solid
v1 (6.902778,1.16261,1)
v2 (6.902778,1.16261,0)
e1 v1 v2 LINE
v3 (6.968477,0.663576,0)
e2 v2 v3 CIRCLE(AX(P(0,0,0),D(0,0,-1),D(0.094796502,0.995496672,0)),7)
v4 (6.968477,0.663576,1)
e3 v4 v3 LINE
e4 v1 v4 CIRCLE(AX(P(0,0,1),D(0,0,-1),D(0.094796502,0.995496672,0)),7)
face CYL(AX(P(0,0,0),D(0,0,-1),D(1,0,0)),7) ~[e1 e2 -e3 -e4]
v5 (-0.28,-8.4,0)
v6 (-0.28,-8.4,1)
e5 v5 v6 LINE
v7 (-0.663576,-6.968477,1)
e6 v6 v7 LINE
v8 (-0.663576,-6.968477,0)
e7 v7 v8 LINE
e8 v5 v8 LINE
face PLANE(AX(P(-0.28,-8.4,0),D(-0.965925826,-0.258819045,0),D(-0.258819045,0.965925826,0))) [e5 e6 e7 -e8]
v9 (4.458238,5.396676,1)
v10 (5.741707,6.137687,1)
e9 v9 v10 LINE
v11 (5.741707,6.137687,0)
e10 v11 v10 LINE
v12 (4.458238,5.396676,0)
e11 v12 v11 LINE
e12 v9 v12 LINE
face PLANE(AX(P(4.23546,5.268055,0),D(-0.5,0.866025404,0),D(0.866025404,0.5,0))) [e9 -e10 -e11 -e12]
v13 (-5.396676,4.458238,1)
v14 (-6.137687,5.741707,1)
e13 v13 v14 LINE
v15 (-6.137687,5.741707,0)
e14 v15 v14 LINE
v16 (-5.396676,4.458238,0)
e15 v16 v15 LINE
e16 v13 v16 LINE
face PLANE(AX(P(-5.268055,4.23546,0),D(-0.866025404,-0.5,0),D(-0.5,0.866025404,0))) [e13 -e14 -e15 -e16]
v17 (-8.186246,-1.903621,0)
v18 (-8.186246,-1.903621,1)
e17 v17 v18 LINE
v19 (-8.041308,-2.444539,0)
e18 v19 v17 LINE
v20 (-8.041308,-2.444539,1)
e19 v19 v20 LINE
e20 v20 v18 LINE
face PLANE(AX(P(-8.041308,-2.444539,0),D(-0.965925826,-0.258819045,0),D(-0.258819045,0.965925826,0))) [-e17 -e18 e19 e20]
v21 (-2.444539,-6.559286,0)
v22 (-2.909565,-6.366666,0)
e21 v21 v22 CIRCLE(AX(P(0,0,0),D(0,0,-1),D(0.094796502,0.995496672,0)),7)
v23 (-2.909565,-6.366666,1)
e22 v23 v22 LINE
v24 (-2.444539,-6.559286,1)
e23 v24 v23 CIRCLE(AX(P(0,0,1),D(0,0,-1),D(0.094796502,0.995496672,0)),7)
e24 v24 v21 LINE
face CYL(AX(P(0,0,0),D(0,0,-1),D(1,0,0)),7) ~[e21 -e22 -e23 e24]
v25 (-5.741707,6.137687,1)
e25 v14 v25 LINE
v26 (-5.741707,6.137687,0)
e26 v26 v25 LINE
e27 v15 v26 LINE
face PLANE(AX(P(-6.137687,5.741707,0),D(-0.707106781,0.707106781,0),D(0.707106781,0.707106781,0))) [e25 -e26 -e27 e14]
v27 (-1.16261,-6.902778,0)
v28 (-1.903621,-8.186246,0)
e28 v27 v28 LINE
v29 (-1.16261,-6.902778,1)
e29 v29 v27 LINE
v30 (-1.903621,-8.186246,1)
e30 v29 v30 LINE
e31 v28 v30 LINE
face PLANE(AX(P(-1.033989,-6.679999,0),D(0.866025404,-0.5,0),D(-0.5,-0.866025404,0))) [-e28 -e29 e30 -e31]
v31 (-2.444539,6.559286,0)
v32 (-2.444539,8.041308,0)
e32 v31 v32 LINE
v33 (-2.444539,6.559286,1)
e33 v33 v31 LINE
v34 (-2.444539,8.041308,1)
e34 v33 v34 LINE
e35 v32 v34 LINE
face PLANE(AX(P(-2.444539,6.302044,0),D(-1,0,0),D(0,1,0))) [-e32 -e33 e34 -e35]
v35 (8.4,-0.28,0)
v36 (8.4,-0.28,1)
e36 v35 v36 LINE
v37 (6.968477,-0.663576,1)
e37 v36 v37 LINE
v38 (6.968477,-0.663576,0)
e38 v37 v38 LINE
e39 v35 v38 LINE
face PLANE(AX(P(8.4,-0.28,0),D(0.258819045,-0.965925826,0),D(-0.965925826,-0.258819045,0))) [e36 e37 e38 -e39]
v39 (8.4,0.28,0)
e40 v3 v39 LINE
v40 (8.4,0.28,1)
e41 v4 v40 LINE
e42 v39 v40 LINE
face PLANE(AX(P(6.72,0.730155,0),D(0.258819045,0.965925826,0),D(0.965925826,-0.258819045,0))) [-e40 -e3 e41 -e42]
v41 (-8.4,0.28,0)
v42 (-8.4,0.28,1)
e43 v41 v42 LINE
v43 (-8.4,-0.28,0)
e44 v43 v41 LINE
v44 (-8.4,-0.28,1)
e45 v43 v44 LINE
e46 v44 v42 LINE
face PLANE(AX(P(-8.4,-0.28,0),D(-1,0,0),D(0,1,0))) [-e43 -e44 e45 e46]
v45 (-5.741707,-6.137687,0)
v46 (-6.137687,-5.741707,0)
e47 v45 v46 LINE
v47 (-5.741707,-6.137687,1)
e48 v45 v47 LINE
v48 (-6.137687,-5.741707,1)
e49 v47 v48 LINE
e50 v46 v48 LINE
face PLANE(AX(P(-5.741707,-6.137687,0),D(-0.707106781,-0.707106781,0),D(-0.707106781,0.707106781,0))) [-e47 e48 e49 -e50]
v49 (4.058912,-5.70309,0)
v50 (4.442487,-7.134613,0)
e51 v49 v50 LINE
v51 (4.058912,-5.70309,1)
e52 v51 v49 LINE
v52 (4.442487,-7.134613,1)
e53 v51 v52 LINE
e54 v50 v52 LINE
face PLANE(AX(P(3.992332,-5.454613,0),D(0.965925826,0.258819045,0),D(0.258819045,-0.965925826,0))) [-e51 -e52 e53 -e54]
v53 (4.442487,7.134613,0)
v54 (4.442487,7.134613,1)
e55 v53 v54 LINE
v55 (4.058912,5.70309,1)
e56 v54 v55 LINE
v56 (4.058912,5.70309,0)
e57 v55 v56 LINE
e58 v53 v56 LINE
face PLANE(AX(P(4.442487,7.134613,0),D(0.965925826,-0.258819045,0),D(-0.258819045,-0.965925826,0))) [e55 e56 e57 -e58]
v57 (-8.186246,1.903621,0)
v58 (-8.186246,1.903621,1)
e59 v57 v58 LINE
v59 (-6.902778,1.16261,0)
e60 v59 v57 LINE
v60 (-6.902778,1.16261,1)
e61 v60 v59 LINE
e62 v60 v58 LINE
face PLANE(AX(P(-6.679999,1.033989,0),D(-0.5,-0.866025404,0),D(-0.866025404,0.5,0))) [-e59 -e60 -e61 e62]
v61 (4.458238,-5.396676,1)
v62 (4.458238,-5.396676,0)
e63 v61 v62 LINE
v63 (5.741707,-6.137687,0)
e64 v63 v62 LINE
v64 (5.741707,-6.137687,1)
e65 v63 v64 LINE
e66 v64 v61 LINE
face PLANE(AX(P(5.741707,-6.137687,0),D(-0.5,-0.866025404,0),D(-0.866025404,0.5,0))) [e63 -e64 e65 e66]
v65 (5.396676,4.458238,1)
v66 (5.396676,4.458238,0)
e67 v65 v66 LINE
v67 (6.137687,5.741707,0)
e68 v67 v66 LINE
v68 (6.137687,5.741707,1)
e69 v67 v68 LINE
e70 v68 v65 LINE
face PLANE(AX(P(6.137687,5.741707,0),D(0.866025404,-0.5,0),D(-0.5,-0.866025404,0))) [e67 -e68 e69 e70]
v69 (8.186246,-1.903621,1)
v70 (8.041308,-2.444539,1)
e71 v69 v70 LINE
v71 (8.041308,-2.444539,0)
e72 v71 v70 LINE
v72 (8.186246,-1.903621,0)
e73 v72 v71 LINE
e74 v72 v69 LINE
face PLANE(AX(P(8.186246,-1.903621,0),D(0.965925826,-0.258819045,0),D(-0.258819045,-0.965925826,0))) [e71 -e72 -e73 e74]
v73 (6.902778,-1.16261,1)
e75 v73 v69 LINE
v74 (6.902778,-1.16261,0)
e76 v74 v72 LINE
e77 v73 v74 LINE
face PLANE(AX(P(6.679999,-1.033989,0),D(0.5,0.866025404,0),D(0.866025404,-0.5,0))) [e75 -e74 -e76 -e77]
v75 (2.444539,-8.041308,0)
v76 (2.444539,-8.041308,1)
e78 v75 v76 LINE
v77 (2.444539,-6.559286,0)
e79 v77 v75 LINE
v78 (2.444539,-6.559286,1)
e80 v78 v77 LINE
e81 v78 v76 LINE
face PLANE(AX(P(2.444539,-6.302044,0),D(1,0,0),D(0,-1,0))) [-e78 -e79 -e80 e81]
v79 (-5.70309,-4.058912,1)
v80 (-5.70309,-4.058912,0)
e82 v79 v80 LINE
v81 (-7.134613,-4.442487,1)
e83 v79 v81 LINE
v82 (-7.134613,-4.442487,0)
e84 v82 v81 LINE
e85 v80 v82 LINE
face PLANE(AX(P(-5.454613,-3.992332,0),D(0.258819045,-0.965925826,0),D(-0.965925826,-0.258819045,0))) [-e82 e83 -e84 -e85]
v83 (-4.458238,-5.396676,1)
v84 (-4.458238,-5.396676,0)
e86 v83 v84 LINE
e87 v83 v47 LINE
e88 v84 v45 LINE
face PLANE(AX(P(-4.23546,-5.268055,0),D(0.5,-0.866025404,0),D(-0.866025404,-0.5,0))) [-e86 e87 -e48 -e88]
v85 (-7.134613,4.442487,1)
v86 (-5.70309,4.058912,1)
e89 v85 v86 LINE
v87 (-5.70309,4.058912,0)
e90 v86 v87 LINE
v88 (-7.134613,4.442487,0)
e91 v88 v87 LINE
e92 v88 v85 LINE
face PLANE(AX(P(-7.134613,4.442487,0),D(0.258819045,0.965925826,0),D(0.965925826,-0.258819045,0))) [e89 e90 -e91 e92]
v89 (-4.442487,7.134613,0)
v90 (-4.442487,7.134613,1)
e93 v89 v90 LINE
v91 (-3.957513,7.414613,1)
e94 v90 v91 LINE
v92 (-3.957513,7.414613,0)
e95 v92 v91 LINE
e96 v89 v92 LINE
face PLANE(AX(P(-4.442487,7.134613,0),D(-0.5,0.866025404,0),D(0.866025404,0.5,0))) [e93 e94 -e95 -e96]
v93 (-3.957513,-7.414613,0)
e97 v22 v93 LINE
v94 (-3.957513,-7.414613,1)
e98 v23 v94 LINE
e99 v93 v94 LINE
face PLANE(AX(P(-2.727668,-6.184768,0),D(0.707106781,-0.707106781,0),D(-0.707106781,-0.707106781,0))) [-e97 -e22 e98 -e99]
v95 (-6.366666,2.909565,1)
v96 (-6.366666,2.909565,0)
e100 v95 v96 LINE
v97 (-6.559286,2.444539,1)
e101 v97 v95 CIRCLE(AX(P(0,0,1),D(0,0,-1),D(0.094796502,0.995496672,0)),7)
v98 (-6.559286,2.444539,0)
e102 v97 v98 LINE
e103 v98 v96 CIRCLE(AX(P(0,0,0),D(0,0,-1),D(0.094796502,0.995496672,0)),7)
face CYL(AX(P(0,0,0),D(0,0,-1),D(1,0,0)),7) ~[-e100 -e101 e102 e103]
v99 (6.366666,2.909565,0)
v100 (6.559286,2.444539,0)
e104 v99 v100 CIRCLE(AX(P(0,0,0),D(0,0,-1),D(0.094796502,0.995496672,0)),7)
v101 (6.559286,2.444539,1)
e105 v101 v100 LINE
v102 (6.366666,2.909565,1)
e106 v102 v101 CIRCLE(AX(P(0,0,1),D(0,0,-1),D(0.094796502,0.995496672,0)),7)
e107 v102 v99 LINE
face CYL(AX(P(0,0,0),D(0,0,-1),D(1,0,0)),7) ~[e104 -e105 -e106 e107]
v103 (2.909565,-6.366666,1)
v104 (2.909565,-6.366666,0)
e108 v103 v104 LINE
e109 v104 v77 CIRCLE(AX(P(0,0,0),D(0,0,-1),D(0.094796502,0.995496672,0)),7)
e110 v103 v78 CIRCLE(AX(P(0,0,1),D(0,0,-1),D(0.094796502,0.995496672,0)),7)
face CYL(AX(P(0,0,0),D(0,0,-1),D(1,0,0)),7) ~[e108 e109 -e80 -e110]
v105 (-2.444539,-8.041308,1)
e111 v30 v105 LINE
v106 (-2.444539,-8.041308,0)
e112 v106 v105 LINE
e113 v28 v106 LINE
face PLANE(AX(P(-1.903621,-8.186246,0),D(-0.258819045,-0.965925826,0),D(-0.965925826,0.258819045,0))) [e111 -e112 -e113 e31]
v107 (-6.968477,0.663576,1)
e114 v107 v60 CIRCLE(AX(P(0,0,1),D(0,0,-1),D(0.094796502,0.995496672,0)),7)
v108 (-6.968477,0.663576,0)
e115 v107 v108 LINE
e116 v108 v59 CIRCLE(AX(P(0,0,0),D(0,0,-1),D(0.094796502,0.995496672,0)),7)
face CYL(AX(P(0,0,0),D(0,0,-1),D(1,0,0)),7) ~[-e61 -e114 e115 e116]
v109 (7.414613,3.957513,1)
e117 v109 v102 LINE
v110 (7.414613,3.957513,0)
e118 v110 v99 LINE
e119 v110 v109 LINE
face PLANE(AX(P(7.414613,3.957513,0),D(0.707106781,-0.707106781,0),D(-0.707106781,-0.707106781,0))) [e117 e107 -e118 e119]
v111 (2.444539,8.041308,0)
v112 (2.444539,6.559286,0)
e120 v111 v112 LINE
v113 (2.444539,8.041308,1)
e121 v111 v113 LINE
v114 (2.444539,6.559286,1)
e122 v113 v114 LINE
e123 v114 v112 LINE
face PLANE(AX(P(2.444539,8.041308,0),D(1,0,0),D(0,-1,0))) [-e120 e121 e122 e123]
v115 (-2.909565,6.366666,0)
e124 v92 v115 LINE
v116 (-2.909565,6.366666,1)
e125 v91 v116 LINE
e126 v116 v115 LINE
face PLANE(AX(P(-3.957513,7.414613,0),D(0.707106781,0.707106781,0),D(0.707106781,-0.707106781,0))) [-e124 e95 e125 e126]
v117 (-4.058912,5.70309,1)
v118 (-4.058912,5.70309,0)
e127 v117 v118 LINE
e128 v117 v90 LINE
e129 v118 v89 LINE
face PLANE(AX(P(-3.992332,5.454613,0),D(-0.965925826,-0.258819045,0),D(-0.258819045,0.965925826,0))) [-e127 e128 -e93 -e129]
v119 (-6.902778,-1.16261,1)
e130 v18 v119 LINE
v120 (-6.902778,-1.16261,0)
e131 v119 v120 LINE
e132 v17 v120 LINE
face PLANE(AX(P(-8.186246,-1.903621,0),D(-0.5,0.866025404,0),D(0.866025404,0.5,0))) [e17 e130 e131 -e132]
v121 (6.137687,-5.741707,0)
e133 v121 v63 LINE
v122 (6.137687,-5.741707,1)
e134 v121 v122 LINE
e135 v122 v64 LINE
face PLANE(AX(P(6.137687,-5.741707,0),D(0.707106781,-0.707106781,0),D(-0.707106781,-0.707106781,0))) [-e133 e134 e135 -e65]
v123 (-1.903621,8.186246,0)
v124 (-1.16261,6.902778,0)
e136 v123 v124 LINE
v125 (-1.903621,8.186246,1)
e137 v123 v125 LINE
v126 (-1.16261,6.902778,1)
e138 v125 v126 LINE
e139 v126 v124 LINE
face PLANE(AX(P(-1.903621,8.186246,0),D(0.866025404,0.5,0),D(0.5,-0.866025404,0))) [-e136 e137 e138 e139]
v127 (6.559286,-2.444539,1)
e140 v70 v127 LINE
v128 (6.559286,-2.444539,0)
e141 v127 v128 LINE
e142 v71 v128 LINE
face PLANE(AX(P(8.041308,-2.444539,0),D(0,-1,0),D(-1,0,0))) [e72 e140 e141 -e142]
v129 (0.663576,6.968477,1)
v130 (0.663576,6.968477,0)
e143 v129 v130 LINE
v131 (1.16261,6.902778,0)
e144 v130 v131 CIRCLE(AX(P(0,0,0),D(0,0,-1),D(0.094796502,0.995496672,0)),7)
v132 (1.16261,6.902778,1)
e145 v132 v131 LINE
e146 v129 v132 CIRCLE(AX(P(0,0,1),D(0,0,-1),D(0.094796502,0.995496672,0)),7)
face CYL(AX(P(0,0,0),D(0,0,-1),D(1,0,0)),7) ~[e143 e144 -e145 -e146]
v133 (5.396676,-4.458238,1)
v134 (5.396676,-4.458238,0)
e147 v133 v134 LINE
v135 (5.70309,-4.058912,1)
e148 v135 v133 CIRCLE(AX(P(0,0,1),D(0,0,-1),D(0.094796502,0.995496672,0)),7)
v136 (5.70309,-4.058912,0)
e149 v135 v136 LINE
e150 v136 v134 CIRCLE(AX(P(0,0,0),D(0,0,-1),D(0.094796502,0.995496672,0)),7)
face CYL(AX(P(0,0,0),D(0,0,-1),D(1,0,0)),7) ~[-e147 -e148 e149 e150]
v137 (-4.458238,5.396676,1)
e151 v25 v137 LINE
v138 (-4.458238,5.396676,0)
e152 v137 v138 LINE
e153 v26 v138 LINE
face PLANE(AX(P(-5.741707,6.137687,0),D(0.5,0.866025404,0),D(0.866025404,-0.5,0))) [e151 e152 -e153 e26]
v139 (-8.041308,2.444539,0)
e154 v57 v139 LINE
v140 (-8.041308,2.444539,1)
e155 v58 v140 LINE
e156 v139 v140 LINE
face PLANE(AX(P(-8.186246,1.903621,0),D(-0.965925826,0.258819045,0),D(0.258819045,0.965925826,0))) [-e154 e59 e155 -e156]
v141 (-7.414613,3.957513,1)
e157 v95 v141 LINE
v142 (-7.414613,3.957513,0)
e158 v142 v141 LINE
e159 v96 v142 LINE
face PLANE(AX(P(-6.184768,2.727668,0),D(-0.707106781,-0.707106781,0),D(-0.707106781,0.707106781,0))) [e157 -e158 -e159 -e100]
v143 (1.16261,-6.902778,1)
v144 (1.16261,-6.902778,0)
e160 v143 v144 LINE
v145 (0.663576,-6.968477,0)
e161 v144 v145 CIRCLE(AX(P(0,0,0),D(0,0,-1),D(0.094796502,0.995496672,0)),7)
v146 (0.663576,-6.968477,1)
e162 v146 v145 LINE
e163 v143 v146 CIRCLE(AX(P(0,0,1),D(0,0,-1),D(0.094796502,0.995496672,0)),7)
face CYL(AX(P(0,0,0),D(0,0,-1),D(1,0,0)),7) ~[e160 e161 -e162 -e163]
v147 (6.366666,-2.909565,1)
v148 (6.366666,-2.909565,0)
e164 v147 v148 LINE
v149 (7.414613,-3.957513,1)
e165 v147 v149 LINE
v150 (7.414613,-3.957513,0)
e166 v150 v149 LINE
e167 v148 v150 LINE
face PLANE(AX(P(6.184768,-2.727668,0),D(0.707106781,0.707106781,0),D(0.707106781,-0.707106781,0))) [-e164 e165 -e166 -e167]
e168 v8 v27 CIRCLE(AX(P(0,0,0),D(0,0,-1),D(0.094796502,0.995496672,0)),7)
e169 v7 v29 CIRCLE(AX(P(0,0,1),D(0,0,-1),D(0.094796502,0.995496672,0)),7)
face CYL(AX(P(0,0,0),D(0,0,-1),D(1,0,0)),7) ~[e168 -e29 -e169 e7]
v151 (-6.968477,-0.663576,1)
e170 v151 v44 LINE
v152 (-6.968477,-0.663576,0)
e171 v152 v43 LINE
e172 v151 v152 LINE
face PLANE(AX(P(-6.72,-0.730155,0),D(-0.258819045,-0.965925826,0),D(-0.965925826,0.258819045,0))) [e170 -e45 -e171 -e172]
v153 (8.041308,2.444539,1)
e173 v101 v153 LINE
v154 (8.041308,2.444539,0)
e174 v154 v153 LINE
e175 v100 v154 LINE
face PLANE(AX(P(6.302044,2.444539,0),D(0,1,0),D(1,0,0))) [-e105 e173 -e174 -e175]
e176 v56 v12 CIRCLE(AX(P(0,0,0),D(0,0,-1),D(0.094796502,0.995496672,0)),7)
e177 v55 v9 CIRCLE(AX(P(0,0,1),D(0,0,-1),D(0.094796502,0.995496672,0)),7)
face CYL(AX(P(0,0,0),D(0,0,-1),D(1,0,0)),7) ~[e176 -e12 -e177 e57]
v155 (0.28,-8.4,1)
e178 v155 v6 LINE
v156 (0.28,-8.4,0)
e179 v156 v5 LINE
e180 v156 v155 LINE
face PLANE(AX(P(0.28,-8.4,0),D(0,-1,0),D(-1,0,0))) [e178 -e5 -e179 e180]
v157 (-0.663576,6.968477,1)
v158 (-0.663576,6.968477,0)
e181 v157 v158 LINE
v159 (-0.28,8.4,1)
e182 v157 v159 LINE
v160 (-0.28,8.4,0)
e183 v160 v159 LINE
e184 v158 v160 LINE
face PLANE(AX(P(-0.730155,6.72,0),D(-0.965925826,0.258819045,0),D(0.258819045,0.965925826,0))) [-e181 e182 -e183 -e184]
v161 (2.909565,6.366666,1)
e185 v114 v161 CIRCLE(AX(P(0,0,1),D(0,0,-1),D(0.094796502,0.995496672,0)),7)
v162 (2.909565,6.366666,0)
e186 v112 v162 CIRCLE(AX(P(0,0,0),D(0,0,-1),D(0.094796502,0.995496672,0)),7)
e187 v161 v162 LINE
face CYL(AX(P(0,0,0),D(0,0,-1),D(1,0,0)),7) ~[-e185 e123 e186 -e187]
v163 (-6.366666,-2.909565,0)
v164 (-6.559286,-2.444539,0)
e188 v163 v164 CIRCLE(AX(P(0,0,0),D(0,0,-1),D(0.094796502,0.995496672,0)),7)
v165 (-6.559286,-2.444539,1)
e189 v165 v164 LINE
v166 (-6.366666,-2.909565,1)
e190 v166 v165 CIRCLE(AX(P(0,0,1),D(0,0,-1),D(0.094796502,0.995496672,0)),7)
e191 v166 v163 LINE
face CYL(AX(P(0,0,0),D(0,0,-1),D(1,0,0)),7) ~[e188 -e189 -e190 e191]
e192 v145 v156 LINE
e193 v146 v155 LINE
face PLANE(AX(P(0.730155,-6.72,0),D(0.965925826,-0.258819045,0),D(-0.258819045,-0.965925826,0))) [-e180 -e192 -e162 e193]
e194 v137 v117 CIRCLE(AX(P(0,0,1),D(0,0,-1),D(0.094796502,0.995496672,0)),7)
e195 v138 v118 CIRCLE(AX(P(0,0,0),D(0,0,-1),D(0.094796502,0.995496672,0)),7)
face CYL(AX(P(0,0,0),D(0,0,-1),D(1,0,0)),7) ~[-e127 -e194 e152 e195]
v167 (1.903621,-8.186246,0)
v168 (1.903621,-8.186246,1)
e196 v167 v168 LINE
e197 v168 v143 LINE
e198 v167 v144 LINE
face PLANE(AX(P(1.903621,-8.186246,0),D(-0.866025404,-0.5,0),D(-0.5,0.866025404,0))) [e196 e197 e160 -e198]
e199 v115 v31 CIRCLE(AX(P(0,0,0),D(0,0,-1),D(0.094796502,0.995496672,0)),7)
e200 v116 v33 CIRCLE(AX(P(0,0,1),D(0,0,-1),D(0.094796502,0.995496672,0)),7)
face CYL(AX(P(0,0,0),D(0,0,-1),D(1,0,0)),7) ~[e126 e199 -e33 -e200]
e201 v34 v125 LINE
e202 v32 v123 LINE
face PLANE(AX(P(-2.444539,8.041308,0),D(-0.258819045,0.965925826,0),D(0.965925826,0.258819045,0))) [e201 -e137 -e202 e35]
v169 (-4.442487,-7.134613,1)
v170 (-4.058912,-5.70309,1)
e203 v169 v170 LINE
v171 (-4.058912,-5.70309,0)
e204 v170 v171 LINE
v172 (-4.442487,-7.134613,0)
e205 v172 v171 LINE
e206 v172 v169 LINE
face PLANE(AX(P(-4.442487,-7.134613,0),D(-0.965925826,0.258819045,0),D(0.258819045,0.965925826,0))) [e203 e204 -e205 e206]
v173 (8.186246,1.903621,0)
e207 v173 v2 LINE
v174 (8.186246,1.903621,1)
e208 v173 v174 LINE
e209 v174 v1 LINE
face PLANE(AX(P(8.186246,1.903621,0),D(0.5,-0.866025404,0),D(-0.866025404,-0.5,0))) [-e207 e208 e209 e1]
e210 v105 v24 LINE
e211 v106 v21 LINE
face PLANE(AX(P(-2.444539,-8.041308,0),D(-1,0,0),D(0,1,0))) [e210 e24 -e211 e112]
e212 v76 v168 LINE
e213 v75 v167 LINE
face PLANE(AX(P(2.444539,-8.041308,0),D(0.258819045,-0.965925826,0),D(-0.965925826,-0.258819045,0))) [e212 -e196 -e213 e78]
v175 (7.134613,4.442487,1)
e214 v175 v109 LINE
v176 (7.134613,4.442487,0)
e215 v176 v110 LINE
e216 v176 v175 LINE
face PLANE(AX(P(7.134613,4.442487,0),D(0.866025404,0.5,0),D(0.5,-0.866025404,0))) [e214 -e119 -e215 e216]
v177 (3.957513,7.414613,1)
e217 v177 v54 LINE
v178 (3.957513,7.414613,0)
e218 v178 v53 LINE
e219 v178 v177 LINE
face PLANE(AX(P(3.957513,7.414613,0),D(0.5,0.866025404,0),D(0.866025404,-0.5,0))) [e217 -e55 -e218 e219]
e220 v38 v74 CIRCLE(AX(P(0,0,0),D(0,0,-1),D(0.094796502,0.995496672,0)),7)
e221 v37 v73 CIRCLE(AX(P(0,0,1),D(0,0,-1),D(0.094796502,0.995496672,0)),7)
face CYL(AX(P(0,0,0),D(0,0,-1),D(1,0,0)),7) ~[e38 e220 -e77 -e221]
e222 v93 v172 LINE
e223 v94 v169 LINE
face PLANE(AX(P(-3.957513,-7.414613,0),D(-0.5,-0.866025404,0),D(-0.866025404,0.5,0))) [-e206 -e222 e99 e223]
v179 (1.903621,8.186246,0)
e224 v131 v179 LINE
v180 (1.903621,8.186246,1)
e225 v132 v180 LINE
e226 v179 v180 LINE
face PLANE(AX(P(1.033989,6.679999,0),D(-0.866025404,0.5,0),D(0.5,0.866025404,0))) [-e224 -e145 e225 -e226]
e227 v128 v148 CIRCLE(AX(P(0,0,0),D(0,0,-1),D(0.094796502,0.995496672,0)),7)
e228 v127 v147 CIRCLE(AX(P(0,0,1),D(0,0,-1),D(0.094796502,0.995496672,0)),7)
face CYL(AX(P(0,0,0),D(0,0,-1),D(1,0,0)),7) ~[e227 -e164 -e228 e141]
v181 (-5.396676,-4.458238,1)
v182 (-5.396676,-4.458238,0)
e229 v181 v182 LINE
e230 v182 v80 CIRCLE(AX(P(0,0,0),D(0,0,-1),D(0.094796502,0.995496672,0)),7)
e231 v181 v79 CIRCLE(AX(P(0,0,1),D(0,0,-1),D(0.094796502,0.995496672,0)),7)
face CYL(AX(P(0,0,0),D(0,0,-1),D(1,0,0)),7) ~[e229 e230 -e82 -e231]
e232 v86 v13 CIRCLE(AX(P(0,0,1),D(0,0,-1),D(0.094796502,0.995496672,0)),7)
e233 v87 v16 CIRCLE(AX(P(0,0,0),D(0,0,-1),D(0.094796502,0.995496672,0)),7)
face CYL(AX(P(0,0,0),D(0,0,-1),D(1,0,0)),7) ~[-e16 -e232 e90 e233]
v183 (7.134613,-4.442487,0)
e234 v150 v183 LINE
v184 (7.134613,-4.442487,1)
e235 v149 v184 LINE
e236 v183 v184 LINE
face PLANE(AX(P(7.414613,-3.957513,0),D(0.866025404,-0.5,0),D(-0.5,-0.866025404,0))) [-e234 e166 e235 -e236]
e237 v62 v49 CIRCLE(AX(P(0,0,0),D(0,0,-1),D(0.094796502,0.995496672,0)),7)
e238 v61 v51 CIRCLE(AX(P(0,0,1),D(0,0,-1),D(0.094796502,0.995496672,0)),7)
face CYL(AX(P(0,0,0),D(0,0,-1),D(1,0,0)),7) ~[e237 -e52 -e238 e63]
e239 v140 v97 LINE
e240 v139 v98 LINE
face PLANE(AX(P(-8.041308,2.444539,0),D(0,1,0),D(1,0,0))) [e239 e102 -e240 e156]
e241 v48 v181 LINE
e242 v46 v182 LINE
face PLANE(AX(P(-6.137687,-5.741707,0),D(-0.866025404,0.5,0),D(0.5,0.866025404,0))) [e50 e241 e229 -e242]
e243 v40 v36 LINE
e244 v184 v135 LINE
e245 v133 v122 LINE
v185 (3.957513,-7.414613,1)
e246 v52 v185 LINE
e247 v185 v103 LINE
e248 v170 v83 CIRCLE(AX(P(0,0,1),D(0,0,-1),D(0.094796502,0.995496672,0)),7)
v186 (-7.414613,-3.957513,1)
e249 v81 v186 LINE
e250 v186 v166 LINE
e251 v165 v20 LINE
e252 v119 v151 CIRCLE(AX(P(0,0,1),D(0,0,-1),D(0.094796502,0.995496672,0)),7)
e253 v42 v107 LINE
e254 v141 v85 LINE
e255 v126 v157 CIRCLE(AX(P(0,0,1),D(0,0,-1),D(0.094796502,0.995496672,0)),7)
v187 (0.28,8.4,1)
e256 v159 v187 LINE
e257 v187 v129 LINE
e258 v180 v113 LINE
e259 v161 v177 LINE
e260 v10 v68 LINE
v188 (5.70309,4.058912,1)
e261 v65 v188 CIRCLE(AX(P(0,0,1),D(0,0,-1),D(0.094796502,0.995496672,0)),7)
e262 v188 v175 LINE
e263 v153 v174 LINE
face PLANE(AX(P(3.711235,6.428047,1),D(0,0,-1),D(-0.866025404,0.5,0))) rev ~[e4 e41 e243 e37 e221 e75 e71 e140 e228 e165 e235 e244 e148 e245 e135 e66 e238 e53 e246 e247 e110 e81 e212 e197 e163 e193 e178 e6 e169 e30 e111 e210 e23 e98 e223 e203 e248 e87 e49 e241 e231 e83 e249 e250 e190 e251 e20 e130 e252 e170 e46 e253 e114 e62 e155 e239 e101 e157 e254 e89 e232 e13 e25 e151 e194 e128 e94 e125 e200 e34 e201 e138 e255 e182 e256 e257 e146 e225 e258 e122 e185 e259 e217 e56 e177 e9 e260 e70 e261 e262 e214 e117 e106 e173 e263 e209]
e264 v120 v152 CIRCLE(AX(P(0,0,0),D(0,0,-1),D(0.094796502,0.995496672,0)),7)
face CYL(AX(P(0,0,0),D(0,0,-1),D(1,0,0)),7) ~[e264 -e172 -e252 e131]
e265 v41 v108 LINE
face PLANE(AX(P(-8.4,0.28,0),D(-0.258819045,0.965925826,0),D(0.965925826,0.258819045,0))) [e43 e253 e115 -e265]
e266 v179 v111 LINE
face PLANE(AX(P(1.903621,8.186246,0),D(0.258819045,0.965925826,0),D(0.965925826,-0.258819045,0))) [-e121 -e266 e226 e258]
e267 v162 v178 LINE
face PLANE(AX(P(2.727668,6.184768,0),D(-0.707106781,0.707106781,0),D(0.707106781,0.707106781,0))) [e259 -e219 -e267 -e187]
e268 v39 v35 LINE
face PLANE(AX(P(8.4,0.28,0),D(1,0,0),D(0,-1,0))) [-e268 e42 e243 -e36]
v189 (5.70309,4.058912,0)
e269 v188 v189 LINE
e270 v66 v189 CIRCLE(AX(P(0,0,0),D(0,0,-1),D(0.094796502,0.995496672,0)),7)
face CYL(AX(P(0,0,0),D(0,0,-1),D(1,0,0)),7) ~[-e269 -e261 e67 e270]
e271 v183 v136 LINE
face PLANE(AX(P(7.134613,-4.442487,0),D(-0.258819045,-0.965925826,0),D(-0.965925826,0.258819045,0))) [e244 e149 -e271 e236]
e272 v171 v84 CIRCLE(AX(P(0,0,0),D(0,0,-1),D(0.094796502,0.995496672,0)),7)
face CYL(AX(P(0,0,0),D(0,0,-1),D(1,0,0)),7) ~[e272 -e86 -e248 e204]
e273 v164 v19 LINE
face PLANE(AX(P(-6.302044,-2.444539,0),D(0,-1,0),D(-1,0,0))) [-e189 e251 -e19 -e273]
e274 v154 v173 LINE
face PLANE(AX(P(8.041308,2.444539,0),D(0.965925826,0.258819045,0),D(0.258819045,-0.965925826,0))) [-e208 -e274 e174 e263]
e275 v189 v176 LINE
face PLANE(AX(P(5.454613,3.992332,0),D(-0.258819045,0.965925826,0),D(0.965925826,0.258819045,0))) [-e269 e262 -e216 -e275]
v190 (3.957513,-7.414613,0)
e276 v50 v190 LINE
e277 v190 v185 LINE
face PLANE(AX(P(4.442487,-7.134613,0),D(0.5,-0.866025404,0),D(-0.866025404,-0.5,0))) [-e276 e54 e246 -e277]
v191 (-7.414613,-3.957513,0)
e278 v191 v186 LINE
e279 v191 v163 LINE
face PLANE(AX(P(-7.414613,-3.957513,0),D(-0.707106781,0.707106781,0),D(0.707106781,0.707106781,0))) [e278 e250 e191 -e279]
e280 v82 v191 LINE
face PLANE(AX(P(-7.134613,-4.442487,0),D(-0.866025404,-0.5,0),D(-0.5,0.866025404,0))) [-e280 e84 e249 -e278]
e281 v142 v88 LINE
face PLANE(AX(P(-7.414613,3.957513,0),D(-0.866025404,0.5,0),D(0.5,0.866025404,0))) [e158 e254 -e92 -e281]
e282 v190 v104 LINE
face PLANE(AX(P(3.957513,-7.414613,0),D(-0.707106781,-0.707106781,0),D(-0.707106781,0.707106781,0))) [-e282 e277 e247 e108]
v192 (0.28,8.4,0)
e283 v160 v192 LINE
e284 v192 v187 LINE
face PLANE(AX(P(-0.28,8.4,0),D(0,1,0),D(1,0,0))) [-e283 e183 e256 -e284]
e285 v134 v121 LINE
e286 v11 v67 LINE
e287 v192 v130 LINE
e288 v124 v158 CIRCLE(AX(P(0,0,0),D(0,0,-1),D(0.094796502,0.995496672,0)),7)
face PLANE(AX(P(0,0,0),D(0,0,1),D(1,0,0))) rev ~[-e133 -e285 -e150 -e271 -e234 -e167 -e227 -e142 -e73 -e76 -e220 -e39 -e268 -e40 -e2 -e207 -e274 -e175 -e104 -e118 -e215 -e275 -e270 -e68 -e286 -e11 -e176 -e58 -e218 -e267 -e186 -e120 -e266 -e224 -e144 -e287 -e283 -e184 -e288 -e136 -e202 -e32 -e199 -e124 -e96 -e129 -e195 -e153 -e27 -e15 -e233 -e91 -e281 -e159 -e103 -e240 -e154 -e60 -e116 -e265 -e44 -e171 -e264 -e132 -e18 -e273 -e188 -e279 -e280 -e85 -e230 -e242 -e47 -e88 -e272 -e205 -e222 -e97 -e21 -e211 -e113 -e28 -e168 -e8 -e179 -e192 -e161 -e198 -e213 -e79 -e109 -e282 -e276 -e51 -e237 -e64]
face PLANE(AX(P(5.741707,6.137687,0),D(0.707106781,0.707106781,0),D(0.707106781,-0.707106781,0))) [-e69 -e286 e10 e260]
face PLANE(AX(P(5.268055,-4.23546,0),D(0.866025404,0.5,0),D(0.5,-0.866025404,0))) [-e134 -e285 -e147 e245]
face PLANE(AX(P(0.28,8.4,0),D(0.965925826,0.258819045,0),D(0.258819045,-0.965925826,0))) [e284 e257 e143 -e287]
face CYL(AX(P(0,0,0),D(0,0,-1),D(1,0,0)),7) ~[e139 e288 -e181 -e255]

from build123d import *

# Parameters (mm, degrees)
SKETCH1_R           = 7
BOSS_EXTRUDE1_DEPTH = 1
BOSS_EXTRUDE2_DEPTH = 1
CIRPATTERN1_COUNT   = 24


with BuildPart() as part:
    # Sketch1 → Boss-Extrude1 (new body)
    with BuildSketch(Plane.XY):
        Circle(SKETCH1_R)
    extrude(amount=BOSS_EXTRUDE1_DEPTH)

    # Sketch2 → Boss-Extrude2 (add)
    with BuildSketch(Plane.XY):
        Polygon((0, 6.72), (-0.730154643, 6.72), (-0.28, 8.4), (0.28, 8.4), (0.730154643, 6.72), align=None)
    boss_extrude2 = extrude(amount=BOSS_EXTRUDE2_DEPTH)

    # CirPattern1: Boss-Extrude2 ×24 about axis
    cirpattern1_axis = Axis((0, 0, 0), (0, 0, 1))
    for i in range(1, CIRPATTERN1_COUNT):
        add(boss_extrude2.rotate(cirpattern1_axis, i * 360 / CIRPATTERN1_COUNT))


solid = part.part
